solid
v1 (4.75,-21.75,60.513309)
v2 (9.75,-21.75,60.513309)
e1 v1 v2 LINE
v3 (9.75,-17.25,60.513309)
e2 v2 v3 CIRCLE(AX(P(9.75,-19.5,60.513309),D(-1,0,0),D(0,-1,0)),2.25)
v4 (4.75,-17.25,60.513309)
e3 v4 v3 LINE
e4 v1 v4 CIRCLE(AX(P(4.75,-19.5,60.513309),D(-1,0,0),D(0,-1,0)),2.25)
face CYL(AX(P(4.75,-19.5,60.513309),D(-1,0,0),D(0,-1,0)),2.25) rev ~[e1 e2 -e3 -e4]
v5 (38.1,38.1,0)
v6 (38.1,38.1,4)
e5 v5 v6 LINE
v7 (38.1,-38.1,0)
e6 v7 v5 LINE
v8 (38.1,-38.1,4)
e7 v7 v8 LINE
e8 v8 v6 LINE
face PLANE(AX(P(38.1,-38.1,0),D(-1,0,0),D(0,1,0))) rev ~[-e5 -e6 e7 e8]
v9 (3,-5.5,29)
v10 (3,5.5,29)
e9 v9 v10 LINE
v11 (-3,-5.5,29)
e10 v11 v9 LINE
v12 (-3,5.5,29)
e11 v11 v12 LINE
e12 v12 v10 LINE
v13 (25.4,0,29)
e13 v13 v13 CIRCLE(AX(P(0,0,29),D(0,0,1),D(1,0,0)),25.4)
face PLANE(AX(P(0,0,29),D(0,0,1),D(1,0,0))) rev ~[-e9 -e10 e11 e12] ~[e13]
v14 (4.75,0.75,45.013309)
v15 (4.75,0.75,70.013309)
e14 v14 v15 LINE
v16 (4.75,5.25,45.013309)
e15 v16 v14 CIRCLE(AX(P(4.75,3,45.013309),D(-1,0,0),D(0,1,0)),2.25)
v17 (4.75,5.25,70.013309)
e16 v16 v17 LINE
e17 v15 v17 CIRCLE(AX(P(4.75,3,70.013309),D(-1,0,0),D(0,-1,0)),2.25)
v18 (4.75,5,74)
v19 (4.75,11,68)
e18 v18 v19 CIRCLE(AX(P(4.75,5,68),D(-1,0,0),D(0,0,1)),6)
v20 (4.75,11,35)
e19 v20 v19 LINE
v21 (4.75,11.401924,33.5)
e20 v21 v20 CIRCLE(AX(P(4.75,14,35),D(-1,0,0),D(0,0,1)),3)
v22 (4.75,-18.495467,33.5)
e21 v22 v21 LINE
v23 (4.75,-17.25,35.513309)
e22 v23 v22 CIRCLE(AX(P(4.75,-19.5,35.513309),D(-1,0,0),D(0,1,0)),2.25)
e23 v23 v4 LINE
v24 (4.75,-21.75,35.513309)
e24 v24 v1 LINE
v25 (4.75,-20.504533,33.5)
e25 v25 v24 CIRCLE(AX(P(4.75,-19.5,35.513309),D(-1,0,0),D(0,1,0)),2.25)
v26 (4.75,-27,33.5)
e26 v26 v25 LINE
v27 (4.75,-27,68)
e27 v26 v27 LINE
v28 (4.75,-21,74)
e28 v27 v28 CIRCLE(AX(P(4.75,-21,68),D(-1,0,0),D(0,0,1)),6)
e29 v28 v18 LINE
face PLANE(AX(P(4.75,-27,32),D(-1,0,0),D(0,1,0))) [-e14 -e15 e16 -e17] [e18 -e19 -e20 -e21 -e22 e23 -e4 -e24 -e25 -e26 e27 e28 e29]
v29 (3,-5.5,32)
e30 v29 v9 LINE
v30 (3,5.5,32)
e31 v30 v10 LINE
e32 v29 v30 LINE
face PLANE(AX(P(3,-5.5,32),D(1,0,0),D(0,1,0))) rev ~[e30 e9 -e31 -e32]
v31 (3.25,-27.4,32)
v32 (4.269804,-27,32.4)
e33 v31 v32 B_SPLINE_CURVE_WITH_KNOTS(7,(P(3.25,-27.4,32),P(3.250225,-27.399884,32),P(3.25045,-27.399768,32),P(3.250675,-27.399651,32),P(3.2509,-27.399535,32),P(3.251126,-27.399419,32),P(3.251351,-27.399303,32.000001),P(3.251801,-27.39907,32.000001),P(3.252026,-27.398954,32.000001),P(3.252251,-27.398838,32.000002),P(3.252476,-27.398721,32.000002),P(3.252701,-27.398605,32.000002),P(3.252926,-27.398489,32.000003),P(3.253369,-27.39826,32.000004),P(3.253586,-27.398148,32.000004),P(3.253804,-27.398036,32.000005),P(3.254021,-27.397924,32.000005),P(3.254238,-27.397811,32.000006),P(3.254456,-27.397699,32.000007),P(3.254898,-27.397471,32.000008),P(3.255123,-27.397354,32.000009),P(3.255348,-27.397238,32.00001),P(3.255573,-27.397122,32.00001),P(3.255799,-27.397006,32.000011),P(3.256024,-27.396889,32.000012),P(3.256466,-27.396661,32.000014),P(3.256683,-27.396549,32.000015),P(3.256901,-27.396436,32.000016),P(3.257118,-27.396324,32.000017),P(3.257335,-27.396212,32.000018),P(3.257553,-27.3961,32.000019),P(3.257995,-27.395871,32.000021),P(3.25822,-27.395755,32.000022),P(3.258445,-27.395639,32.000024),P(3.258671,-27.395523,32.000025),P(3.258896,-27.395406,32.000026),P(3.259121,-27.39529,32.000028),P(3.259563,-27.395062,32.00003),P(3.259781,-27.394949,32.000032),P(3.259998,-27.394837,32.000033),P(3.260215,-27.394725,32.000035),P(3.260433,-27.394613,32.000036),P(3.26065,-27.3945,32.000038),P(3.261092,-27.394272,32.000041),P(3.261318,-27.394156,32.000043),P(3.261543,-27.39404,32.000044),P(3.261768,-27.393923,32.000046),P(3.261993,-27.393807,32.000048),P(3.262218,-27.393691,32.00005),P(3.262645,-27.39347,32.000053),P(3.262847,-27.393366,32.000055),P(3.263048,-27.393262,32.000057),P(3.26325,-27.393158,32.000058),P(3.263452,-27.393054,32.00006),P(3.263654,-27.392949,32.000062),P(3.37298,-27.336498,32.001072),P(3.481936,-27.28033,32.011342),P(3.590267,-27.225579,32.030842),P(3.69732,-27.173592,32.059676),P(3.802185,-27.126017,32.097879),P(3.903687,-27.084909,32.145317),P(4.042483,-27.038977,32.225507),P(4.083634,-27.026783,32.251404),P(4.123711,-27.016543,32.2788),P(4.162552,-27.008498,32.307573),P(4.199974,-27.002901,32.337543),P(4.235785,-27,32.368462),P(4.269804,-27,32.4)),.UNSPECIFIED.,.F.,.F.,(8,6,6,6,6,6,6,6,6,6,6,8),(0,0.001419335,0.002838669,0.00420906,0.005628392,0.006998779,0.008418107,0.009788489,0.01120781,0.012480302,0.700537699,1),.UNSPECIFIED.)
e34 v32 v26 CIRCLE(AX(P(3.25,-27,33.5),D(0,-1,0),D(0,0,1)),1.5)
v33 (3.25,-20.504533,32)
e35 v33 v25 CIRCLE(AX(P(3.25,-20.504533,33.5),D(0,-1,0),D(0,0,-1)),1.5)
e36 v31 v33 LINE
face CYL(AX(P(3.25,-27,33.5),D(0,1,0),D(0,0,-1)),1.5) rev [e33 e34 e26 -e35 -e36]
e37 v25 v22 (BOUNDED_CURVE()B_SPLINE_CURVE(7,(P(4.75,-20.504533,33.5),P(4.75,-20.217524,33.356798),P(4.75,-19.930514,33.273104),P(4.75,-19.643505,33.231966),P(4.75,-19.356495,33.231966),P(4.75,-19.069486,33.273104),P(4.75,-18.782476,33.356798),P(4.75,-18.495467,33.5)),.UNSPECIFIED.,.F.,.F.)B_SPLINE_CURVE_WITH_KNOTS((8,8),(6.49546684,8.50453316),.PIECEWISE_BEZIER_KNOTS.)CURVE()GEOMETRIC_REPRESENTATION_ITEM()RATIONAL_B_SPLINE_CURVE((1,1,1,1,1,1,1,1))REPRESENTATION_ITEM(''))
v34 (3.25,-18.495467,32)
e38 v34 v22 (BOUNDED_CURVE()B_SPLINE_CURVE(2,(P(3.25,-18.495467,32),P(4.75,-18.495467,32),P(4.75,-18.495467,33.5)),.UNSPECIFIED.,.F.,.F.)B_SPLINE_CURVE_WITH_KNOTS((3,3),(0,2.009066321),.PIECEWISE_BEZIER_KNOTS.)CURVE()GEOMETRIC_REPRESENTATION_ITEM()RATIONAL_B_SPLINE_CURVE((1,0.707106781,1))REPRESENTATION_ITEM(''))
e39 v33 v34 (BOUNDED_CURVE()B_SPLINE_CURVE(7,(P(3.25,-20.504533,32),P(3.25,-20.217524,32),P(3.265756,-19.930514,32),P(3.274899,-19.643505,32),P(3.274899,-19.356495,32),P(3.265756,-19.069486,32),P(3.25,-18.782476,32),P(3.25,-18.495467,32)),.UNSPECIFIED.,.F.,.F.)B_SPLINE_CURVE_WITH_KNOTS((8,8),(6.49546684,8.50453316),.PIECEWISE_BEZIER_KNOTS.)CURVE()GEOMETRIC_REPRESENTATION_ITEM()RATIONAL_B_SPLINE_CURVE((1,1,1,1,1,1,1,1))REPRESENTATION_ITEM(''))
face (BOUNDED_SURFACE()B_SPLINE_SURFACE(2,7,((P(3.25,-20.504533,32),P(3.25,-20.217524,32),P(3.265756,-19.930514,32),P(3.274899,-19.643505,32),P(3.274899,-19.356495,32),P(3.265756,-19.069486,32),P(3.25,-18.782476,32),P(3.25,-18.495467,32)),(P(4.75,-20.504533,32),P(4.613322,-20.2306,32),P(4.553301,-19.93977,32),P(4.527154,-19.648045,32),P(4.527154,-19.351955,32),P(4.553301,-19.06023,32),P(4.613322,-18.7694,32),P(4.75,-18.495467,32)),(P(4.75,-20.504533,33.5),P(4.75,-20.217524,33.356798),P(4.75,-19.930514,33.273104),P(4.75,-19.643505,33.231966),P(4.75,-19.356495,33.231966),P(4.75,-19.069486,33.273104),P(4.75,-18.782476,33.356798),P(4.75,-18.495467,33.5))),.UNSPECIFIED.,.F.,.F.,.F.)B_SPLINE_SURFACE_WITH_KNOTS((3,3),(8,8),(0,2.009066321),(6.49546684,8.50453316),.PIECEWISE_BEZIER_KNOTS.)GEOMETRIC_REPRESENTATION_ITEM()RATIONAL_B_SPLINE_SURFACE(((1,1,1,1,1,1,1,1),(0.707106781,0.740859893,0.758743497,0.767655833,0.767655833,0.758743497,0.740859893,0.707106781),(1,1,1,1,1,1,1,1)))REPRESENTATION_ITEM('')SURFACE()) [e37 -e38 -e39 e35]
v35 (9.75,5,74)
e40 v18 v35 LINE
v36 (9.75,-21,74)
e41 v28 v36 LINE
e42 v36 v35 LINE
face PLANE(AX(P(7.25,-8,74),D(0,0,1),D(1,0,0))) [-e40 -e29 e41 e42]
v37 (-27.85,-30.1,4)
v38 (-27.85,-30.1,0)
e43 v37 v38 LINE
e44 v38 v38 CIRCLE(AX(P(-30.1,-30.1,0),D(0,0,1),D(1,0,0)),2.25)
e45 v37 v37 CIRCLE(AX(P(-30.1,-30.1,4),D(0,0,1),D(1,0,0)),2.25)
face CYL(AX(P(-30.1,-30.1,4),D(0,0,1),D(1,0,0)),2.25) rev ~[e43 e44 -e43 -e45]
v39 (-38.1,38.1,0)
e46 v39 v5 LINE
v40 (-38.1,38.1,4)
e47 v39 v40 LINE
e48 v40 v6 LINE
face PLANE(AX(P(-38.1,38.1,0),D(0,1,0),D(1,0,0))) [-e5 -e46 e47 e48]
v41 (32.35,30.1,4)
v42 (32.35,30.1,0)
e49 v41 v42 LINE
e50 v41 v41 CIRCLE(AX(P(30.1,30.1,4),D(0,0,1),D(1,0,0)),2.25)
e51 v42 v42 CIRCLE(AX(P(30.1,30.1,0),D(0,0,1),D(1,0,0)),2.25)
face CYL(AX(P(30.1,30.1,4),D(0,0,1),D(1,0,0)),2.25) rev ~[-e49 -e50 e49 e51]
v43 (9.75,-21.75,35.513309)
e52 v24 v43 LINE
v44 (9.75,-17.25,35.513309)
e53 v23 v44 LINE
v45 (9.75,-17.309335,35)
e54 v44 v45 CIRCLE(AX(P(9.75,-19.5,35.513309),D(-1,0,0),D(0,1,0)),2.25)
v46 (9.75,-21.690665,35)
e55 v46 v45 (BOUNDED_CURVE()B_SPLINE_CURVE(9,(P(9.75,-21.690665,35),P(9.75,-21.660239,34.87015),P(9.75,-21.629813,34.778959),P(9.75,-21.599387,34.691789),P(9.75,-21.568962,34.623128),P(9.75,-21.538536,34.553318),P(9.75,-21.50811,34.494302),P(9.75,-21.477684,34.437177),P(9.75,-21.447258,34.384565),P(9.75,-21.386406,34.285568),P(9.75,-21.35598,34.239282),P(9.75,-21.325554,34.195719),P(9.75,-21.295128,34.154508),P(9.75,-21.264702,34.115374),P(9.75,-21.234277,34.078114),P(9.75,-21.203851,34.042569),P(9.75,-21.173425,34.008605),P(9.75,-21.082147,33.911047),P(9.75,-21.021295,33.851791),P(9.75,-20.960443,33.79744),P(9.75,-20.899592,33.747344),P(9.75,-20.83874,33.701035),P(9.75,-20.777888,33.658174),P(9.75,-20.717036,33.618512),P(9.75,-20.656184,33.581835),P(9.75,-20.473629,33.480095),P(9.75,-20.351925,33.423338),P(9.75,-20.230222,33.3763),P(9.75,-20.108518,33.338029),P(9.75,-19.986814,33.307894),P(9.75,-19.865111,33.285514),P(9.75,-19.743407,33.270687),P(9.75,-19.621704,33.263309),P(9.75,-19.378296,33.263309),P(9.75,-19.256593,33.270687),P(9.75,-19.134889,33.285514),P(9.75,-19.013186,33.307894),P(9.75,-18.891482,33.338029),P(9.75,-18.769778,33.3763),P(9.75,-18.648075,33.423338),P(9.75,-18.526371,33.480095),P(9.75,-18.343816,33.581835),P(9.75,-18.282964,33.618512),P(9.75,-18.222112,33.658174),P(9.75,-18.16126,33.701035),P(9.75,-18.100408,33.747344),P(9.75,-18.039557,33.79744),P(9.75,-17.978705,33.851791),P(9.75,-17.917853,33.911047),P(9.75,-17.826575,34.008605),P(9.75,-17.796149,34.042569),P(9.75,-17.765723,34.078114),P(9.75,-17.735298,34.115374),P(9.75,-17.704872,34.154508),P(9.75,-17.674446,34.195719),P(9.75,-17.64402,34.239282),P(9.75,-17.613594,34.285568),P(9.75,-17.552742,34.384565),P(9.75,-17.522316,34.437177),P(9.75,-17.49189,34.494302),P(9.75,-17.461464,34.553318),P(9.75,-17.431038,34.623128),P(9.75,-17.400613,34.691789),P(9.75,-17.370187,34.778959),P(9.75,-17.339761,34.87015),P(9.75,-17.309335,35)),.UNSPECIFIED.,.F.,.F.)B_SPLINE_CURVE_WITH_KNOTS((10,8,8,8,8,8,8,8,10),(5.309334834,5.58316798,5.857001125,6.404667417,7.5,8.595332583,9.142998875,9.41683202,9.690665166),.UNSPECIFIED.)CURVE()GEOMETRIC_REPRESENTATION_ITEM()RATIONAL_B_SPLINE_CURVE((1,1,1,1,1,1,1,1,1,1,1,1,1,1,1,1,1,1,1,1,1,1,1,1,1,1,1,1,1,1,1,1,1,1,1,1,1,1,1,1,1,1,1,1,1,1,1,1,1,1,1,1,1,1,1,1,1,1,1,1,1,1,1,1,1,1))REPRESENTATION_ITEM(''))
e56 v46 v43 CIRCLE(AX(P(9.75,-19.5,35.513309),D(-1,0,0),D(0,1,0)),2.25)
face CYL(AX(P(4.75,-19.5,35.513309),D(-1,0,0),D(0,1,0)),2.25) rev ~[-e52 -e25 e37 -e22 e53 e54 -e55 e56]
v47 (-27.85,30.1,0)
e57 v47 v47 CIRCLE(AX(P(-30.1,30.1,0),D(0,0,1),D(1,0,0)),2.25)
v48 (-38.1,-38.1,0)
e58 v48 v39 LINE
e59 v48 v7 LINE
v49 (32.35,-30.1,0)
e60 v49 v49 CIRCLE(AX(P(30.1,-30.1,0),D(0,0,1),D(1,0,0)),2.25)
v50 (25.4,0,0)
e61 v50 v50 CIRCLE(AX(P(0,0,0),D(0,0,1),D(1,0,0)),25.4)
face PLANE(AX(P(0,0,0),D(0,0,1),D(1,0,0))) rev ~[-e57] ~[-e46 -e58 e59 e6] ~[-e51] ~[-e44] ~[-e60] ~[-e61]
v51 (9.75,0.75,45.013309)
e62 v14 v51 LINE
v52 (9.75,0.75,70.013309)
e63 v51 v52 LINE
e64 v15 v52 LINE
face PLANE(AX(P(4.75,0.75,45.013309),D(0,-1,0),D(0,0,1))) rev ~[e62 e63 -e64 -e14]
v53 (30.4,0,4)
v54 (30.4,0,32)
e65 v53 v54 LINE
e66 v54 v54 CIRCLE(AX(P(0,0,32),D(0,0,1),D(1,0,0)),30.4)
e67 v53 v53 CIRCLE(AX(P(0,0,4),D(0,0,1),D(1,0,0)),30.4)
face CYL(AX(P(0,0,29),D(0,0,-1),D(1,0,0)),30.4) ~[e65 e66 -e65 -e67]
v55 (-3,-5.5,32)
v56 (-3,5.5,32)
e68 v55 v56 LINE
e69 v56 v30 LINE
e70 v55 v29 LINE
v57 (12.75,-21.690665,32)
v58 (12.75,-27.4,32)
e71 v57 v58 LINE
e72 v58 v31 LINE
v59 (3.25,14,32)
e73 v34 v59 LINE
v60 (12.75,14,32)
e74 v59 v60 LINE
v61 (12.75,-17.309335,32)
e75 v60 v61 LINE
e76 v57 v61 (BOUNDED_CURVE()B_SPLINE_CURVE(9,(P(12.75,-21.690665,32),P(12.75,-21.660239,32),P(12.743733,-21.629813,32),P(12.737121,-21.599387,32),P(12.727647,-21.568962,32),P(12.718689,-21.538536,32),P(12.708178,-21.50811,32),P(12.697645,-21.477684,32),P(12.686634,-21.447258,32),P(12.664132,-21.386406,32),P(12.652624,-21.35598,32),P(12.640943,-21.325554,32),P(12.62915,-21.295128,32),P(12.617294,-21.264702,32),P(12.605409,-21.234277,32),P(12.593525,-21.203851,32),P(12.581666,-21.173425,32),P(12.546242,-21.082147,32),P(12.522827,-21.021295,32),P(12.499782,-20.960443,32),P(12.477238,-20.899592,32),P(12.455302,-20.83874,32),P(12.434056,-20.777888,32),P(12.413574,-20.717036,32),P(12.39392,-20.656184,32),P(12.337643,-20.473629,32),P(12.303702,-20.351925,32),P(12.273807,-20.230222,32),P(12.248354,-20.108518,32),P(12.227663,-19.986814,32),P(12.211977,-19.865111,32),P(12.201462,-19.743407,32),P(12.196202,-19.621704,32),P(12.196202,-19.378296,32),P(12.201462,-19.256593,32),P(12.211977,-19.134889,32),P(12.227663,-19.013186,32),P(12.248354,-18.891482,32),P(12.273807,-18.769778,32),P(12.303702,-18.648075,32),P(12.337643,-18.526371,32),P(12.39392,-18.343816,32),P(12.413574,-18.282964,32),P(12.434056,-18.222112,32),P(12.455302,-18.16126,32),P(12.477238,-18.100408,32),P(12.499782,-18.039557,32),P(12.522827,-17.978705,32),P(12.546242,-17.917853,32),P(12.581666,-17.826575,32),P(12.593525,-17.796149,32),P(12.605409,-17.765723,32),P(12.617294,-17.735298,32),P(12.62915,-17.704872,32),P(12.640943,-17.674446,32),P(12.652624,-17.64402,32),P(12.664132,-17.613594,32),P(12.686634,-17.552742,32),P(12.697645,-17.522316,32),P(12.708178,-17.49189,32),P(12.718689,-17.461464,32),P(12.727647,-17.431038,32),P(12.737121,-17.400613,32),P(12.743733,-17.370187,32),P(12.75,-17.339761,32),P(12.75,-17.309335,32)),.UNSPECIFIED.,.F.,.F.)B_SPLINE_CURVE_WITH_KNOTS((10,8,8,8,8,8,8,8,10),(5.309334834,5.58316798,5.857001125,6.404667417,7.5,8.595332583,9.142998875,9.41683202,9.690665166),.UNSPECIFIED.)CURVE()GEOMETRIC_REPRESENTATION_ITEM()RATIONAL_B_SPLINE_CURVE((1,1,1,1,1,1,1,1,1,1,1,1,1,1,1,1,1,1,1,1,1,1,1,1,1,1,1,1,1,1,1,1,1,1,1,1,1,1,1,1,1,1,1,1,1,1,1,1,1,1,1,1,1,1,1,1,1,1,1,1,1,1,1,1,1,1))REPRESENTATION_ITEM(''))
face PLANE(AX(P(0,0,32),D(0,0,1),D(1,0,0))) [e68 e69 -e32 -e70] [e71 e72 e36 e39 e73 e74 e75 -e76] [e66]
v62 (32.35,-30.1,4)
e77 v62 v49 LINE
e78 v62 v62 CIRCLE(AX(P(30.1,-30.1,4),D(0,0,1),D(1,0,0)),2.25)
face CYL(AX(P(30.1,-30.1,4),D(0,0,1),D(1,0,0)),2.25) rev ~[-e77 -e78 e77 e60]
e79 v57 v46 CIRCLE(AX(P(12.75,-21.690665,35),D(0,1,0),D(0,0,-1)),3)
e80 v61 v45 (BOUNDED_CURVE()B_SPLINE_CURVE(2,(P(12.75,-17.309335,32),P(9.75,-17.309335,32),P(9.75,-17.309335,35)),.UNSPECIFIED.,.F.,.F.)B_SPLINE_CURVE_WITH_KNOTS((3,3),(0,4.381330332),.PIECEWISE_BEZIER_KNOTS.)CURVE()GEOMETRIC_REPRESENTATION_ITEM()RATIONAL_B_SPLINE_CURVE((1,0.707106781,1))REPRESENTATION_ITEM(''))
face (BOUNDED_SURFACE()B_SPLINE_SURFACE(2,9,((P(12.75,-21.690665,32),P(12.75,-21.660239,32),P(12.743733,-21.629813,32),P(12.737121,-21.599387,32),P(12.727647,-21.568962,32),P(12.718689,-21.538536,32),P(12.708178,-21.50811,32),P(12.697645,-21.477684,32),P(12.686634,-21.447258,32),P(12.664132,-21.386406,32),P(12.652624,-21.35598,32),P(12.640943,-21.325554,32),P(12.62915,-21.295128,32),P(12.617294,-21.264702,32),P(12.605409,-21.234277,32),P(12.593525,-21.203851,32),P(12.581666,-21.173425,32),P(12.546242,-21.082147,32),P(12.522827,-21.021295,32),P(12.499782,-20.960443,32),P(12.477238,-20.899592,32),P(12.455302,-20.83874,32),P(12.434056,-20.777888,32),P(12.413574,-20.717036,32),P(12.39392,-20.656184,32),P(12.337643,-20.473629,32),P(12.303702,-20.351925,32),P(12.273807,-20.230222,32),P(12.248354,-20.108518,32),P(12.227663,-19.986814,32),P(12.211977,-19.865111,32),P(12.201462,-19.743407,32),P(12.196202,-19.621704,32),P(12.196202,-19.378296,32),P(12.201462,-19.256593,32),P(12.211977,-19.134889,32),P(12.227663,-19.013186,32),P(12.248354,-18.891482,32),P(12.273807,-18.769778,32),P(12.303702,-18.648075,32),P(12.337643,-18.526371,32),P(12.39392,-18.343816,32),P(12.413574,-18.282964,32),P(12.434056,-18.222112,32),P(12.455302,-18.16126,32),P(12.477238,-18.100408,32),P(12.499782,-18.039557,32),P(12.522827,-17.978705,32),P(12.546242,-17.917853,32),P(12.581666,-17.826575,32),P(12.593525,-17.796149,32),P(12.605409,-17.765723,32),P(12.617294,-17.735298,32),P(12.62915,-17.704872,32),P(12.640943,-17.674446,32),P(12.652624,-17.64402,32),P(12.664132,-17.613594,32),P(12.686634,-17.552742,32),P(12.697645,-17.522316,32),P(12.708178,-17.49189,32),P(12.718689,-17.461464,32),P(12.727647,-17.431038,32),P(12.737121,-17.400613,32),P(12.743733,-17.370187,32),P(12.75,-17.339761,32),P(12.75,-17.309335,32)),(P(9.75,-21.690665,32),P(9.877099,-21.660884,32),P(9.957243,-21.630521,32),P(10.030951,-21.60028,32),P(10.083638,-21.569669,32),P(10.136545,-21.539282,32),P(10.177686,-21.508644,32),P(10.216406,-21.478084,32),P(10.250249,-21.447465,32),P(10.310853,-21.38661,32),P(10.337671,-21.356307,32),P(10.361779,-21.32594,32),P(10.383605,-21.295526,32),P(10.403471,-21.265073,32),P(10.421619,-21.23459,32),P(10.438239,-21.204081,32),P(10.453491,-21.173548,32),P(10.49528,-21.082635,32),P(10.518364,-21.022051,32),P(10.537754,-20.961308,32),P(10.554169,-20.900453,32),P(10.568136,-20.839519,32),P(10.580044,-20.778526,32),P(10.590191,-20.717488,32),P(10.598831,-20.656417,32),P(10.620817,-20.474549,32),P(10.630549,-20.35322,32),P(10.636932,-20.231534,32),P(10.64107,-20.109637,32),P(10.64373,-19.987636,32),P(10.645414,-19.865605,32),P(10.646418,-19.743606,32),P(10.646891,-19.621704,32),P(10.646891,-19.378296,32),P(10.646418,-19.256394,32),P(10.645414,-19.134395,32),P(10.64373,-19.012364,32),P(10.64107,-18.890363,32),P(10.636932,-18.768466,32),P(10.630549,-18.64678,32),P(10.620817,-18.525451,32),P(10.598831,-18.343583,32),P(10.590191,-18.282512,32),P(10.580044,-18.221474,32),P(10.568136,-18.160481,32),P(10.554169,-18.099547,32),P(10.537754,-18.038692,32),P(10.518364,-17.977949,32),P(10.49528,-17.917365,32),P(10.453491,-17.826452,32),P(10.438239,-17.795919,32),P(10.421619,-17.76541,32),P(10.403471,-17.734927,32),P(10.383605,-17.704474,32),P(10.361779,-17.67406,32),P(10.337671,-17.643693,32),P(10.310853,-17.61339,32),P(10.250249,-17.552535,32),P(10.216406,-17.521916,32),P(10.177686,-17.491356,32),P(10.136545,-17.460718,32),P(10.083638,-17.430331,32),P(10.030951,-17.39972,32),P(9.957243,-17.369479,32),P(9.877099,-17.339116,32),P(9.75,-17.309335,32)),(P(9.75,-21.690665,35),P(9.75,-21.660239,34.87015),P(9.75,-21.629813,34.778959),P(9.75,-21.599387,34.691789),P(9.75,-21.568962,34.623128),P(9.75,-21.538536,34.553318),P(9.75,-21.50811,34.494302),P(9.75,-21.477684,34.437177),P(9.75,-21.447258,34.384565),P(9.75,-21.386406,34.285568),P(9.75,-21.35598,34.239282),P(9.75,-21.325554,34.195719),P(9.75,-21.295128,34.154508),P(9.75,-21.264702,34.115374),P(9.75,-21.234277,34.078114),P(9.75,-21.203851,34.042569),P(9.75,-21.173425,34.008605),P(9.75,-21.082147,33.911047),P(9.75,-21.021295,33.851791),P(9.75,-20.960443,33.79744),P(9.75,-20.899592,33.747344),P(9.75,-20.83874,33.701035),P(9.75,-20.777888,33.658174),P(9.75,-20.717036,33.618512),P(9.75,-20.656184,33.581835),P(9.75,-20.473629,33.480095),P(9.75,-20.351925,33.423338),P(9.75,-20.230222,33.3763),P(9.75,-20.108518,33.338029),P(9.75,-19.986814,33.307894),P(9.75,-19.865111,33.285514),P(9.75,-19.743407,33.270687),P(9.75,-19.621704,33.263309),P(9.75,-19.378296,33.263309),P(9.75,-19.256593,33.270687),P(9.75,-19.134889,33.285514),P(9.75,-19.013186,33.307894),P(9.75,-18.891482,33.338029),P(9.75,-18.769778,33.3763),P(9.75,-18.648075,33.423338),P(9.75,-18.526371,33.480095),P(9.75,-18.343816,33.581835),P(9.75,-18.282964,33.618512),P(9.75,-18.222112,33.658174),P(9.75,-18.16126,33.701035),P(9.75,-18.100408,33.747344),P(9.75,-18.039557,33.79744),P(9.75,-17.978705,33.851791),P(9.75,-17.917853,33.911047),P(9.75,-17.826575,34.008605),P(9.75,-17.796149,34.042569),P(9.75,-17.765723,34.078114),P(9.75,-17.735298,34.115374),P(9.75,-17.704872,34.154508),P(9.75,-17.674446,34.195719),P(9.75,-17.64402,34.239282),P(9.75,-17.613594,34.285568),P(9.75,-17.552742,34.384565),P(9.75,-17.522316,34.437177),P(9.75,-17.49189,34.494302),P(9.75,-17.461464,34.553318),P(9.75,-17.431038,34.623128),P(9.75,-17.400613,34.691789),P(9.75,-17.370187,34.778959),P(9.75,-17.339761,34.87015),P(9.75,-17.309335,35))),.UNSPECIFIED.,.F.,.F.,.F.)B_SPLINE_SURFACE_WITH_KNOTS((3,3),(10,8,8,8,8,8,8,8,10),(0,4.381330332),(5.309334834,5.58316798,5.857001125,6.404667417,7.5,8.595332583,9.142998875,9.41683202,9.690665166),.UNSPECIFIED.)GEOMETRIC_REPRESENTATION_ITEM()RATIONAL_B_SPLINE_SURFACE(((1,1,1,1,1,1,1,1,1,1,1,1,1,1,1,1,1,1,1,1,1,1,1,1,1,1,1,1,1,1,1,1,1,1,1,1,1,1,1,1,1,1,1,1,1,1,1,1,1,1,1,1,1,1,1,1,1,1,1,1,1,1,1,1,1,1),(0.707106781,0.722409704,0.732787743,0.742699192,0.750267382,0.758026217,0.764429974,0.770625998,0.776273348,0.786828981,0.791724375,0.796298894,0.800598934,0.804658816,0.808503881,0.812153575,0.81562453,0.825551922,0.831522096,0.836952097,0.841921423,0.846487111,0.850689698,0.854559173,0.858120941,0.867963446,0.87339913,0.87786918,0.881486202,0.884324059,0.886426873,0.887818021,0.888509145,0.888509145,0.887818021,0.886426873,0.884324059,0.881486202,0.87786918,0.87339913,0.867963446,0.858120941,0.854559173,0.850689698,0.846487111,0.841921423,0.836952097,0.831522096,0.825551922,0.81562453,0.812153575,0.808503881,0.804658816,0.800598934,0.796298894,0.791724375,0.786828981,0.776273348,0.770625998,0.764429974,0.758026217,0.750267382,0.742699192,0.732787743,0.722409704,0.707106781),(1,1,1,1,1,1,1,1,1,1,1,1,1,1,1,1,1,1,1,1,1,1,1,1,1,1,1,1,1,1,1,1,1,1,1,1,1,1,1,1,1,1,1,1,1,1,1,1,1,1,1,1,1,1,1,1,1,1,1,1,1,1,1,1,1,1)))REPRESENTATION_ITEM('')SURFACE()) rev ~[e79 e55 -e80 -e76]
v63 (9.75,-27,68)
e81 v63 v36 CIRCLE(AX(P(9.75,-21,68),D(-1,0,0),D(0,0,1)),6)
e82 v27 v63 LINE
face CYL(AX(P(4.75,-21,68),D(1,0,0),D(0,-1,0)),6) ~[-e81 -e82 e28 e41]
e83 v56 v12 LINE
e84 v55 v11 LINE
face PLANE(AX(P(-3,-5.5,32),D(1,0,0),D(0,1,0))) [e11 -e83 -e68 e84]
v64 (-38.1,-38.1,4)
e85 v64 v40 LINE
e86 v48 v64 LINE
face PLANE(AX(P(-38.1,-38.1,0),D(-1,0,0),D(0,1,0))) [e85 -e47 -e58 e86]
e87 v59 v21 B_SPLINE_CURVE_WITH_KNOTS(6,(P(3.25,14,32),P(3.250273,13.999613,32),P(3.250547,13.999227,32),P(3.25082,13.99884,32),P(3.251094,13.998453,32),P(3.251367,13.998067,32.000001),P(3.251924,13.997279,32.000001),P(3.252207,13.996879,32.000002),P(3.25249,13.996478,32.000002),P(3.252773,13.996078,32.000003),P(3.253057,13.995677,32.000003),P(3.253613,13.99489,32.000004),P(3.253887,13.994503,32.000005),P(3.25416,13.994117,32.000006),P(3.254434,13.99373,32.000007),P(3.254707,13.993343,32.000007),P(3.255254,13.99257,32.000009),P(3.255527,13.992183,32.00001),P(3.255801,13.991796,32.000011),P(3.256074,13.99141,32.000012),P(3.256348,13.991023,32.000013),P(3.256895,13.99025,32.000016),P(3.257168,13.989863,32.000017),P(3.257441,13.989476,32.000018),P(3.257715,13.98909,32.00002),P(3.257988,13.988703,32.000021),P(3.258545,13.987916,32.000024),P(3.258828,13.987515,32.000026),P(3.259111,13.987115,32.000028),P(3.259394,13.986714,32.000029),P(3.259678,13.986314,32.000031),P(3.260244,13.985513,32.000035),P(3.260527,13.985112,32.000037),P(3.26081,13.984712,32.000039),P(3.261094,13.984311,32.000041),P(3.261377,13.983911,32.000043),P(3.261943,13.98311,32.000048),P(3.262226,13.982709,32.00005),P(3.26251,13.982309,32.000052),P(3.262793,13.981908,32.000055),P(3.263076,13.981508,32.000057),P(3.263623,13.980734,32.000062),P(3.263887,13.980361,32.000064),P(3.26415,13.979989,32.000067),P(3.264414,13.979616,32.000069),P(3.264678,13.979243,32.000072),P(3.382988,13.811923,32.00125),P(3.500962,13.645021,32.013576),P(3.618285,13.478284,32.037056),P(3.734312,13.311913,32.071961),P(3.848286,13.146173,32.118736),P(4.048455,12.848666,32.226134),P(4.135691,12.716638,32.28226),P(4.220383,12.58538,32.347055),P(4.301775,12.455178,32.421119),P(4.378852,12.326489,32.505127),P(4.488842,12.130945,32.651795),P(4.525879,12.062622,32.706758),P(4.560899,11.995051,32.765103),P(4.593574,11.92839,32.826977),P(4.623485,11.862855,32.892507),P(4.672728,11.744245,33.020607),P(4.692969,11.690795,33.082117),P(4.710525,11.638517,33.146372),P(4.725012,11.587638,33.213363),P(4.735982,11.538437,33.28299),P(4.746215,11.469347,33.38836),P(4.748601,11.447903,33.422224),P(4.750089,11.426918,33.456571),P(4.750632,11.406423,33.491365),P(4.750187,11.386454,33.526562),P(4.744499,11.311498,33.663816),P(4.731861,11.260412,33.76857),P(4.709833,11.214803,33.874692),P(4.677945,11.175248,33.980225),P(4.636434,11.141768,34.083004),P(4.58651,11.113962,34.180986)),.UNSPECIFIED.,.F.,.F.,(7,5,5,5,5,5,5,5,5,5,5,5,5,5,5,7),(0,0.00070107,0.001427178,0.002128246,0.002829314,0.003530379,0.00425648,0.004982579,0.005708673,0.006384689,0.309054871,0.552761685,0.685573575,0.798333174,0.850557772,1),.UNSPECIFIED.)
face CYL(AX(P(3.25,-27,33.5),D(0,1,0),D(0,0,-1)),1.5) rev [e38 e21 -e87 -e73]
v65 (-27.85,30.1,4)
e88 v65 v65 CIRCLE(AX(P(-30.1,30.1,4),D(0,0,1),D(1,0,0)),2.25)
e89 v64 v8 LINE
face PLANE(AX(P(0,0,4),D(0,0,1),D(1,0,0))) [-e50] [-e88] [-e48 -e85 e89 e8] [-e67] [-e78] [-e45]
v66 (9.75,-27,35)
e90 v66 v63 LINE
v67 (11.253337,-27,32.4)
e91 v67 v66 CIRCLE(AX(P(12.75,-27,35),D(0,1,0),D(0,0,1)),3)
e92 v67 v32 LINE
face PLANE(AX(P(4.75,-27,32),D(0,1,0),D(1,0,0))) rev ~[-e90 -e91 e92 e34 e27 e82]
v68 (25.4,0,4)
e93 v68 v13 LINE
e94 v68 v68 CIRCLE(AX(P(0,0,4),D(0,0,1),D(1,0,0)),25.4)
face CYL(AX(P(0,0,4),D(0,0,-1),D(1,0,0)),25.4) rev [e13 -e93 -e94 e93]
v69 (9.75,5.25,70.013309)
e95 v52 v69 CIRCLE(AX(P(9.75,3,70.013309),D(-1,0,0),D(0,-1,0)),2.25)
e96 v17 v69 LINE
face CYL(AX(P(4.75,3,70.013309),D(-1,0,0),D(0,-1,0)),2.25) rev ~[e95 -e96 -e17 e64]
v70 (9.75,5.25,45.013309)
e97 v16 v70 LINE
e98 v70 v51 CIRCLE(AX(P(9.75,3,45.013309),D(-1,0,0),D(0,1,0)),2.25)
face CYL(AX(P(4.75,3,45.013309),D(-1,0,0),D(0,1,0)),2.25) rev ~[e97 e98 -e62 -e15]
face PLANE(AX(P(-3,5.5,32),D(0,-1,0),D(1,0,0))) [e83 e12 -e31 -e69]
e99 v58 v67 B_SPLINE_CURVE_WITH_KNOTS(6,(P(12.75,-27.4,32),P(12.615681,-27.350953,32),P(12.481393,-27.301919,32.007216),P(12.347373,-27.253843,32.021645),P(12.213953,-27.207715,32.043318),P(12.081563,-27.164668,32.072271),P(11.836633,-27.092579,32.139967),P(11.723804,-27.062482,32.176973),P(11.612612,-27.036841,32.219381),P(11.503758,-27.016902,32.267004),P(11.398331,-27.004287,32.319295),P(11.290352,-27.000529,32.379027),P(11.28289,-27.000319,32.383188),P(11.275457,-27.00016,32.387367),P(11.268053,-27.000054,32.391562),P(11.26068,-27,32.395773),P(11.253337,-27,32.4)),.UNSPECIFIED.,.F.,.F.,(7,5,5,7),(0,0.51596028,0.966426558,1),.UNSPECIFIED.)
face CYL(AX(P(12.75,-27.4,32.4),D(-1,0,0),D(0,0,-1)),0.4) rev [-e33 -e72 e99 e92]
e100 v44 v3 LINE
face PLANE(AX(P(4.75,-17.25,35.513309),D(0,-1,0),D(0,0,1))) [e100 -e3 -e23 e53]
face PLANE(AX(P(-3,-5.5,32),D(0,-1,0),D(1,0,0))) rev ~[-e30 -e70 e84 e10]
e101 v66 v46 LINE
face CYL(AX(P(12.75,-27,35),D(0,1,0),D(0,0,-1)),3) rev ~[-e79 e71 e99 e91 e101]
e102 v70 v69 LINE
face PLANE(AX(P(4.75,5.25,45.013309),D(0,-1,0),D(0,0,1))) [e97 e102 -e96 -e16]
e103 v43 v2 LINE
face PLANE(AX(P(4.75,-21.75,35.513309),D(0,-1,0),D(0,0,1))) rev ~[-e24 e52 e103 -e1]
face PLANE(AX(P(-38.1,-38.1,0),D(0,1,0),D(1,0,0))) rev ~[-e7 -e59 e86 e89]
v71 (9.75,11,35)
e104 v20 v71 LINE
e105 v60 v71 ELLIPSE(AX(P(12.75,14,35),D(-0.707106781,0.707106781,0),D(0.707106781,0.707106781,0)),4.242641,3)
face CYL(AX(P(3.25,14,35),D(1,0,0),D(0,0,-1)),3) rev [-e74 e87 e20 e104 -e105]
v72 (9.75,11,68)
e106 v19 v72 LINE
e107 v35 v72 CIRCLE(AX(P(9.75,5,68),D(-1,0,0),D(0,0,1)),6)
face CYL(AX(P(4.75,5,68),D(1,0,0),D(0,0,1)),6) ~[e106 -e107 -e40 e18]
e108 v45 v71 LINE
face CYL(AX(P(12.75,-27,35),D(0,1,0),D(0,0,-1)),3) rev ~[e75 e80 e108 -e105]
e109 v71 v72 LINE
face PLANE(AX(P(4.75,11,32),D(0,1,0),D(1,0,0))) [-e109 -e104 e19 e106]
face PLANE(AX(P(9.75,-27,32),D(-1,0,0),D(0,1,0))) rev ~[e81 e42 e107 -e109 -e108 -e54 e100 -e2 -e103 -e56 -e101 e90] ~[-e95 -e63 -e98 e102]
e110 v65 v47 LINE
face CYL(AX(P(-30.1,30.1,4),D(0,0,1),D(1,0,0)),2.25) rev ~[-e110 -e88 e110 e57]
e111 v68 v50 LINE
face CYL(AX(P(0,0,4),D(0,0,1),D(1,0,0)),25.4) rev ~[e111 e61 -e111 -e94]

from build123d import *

# Parameters (mm, degrees)
SKETCH_W        = 76.2
SKETCH_H        = 76.2
PAD_DEPTH       = 4
SKETCH001_R     = 25.4
POCKET_DEPTH    = 4.001
SKETCH002_R     = 2.25
POCKET001_DEPTH = 4.001
SKETCH003_R     = 30.4
SKETCH003_R_2   = 25.4
PAD001_DEPTH    = 25
SKETCH004_R     = 30.4
PAD002_DEPTH    = 3
SKETCH005_W     = 6
SKETCH005_H     = 11
POCKET002_DEPTH = 32.001
SKETCH006_W     = 5
SKETCH006_H     = 38
PAD003_DEPTH    = 42
POCKET003_DEPTH = 33.351
FILLET_R        = 1.5
FILLET001_R     = 3
FILLET002_R     = 0.4
FILLET003_R     = 3
FILLET004_R     = 6


with BuildPart() as part:
    # Sketch → Pad (new body)
    with BuildSketch(Plane.XY):
        Rectangle(SKETCH_W, SKETCH_H)
    extrude(amount=PAD_DEPTH)

    # Sketch001 (on Face6 of Pad) → Pocket (cut, through all)
    with BuildSketch(Plane.XY.offset(4)):
        Circle(SKETCH001_R)
    extrude(amount=-POCKET_DEPTH, mode=Mode.SUBTRACT)

    # Sketch002 (on Face5 of Pocket) → Pocket001 (cut, through all)
    with BuildSketch(Plane.XY.offset(4)):
        with Locations((-30.1, -30.1)):
            Circle(SKETCH002_R)
        with Locations((30.1, -30.1)):
            Circle(SKETCH002_R)
        with Locations((30.1, 30.1)):
            Circle(SKETCH002_R)
        with Locations((-30.1, 30.1)):
            Circle(SKETCH002_R)
    extrude(amount=-POCKET001_DEPTH, mode=Mode.SUBTRACT)

    # Sketch003 (on Face5 of Pocket001) → Pad001 (join)
    with BuildSketch(Plane.XY.offset(4)):
        Circle(SKETCH003_R)
        Circle(SKETCH003_R_2, mode=Mode.SUBTRACT)
    extrude(amount=PAD001_DEPTH)

    # Sketch004 (on Face14 of Pad001) → Pad002 (join)
    with BuildSketch(Plane.XY.offset(29)):
        Circle(SKETCH004_R)
    extrude(amount=PAD002_DEPTH)

    # Sketch005 (on Face16 of Pad002) → Pocket002 (cut, through all)
    with BuildSketch(Plane.XY.offset(32)):
        Rectangle(SKETCH005_W, SKETCH005_H)
    extrude(amount=-POCKET002_DEPTH, mode=Mode.SUBTRACT)

    # Sketch006 (on Face16 of Pocket002) → Pad003 (join)
    with BuildSketch(Plane.XY.offset(32)):
        with Locations((7.25, -8)):
            Rectangle(SKETCH006_W, SKETCH006_H)
    extrude(amount=PAD003_DEPTH)

    # CopySketch007 (on Face21 of Pad003) → Pocket003 (cut, through all)
    with BuildSketch(Plane(origin=(4.75, 0, 0), x_dir=(0, -1, 0), z_dir=(-1, 0, 0))):
        with BuildLine():
            ThreePointArc((-5.25, 45.013309), (-3, 42.763309), (-0.75, 45.013309))
            Line((-0.75, 45.013309), (-0.75, 70.013309))
            ThreePointArc((-0.75, 70.013309), (-3, 72.263309), (-5.25, 70.013309))
            Line((-5.25, 45.013309), (-5.25, 70.013309))
        make_face()
        with BuildLine():
            ThreePointArc((17.25, 35.513309), (19.5, 33.263309), (21.75, 35.513309))
            Line((21.75, 35.513309), (21.75, 60.513309))
            ThreePointArc((21.75, 60.513309), (19.5, 62.763309), (17.25, 60.513309))
            Line((17.25, 35.513309), (17.25, 60.513309))
        make_face()
    extrude(amount=-POCKET003_DEPTH, mode=Mode.SUBTRACT)

    # Fillet
    fillet_edges = [part.edges().sort_by_distance(p)[0] for p in [
        (4.75, -8, 32),
    ]]
    fillet(fillet_edges, radius=FILLET_R)

    # Fillet001
    fillet001_edges = [part.edges().sort_by_distance(p)[0] for p in [
        (9.75, -8, 32),
    ]]
    fillet(fillet001_edges, radius=FILLET001_R)

    # Fillet002
    fillet002_edges = [part.edges().sort_by_distance(p)[0] for p in [
        (7.25, -27, 32),
    ]]
    fillet(fillet002_edges, radius=FILLET002_R)

    # Fillet003
    fillet003_edges = [part.edges().sort_by_distance(p)[0] for p in [
        (7.25, 11, 32),
    ]]
    fillet(fillet003_edges, radius=FILLET003_R)

    # Fillet004
    fillet004_edges = [part.edges().sort_by_distance(p)[0] for p in [
        (7.25, -27, 74),
        (7.25, 11, 74),
    ]]
    fillet(fillet004_edges, radius=FILLET004_R)


solid = part.part
